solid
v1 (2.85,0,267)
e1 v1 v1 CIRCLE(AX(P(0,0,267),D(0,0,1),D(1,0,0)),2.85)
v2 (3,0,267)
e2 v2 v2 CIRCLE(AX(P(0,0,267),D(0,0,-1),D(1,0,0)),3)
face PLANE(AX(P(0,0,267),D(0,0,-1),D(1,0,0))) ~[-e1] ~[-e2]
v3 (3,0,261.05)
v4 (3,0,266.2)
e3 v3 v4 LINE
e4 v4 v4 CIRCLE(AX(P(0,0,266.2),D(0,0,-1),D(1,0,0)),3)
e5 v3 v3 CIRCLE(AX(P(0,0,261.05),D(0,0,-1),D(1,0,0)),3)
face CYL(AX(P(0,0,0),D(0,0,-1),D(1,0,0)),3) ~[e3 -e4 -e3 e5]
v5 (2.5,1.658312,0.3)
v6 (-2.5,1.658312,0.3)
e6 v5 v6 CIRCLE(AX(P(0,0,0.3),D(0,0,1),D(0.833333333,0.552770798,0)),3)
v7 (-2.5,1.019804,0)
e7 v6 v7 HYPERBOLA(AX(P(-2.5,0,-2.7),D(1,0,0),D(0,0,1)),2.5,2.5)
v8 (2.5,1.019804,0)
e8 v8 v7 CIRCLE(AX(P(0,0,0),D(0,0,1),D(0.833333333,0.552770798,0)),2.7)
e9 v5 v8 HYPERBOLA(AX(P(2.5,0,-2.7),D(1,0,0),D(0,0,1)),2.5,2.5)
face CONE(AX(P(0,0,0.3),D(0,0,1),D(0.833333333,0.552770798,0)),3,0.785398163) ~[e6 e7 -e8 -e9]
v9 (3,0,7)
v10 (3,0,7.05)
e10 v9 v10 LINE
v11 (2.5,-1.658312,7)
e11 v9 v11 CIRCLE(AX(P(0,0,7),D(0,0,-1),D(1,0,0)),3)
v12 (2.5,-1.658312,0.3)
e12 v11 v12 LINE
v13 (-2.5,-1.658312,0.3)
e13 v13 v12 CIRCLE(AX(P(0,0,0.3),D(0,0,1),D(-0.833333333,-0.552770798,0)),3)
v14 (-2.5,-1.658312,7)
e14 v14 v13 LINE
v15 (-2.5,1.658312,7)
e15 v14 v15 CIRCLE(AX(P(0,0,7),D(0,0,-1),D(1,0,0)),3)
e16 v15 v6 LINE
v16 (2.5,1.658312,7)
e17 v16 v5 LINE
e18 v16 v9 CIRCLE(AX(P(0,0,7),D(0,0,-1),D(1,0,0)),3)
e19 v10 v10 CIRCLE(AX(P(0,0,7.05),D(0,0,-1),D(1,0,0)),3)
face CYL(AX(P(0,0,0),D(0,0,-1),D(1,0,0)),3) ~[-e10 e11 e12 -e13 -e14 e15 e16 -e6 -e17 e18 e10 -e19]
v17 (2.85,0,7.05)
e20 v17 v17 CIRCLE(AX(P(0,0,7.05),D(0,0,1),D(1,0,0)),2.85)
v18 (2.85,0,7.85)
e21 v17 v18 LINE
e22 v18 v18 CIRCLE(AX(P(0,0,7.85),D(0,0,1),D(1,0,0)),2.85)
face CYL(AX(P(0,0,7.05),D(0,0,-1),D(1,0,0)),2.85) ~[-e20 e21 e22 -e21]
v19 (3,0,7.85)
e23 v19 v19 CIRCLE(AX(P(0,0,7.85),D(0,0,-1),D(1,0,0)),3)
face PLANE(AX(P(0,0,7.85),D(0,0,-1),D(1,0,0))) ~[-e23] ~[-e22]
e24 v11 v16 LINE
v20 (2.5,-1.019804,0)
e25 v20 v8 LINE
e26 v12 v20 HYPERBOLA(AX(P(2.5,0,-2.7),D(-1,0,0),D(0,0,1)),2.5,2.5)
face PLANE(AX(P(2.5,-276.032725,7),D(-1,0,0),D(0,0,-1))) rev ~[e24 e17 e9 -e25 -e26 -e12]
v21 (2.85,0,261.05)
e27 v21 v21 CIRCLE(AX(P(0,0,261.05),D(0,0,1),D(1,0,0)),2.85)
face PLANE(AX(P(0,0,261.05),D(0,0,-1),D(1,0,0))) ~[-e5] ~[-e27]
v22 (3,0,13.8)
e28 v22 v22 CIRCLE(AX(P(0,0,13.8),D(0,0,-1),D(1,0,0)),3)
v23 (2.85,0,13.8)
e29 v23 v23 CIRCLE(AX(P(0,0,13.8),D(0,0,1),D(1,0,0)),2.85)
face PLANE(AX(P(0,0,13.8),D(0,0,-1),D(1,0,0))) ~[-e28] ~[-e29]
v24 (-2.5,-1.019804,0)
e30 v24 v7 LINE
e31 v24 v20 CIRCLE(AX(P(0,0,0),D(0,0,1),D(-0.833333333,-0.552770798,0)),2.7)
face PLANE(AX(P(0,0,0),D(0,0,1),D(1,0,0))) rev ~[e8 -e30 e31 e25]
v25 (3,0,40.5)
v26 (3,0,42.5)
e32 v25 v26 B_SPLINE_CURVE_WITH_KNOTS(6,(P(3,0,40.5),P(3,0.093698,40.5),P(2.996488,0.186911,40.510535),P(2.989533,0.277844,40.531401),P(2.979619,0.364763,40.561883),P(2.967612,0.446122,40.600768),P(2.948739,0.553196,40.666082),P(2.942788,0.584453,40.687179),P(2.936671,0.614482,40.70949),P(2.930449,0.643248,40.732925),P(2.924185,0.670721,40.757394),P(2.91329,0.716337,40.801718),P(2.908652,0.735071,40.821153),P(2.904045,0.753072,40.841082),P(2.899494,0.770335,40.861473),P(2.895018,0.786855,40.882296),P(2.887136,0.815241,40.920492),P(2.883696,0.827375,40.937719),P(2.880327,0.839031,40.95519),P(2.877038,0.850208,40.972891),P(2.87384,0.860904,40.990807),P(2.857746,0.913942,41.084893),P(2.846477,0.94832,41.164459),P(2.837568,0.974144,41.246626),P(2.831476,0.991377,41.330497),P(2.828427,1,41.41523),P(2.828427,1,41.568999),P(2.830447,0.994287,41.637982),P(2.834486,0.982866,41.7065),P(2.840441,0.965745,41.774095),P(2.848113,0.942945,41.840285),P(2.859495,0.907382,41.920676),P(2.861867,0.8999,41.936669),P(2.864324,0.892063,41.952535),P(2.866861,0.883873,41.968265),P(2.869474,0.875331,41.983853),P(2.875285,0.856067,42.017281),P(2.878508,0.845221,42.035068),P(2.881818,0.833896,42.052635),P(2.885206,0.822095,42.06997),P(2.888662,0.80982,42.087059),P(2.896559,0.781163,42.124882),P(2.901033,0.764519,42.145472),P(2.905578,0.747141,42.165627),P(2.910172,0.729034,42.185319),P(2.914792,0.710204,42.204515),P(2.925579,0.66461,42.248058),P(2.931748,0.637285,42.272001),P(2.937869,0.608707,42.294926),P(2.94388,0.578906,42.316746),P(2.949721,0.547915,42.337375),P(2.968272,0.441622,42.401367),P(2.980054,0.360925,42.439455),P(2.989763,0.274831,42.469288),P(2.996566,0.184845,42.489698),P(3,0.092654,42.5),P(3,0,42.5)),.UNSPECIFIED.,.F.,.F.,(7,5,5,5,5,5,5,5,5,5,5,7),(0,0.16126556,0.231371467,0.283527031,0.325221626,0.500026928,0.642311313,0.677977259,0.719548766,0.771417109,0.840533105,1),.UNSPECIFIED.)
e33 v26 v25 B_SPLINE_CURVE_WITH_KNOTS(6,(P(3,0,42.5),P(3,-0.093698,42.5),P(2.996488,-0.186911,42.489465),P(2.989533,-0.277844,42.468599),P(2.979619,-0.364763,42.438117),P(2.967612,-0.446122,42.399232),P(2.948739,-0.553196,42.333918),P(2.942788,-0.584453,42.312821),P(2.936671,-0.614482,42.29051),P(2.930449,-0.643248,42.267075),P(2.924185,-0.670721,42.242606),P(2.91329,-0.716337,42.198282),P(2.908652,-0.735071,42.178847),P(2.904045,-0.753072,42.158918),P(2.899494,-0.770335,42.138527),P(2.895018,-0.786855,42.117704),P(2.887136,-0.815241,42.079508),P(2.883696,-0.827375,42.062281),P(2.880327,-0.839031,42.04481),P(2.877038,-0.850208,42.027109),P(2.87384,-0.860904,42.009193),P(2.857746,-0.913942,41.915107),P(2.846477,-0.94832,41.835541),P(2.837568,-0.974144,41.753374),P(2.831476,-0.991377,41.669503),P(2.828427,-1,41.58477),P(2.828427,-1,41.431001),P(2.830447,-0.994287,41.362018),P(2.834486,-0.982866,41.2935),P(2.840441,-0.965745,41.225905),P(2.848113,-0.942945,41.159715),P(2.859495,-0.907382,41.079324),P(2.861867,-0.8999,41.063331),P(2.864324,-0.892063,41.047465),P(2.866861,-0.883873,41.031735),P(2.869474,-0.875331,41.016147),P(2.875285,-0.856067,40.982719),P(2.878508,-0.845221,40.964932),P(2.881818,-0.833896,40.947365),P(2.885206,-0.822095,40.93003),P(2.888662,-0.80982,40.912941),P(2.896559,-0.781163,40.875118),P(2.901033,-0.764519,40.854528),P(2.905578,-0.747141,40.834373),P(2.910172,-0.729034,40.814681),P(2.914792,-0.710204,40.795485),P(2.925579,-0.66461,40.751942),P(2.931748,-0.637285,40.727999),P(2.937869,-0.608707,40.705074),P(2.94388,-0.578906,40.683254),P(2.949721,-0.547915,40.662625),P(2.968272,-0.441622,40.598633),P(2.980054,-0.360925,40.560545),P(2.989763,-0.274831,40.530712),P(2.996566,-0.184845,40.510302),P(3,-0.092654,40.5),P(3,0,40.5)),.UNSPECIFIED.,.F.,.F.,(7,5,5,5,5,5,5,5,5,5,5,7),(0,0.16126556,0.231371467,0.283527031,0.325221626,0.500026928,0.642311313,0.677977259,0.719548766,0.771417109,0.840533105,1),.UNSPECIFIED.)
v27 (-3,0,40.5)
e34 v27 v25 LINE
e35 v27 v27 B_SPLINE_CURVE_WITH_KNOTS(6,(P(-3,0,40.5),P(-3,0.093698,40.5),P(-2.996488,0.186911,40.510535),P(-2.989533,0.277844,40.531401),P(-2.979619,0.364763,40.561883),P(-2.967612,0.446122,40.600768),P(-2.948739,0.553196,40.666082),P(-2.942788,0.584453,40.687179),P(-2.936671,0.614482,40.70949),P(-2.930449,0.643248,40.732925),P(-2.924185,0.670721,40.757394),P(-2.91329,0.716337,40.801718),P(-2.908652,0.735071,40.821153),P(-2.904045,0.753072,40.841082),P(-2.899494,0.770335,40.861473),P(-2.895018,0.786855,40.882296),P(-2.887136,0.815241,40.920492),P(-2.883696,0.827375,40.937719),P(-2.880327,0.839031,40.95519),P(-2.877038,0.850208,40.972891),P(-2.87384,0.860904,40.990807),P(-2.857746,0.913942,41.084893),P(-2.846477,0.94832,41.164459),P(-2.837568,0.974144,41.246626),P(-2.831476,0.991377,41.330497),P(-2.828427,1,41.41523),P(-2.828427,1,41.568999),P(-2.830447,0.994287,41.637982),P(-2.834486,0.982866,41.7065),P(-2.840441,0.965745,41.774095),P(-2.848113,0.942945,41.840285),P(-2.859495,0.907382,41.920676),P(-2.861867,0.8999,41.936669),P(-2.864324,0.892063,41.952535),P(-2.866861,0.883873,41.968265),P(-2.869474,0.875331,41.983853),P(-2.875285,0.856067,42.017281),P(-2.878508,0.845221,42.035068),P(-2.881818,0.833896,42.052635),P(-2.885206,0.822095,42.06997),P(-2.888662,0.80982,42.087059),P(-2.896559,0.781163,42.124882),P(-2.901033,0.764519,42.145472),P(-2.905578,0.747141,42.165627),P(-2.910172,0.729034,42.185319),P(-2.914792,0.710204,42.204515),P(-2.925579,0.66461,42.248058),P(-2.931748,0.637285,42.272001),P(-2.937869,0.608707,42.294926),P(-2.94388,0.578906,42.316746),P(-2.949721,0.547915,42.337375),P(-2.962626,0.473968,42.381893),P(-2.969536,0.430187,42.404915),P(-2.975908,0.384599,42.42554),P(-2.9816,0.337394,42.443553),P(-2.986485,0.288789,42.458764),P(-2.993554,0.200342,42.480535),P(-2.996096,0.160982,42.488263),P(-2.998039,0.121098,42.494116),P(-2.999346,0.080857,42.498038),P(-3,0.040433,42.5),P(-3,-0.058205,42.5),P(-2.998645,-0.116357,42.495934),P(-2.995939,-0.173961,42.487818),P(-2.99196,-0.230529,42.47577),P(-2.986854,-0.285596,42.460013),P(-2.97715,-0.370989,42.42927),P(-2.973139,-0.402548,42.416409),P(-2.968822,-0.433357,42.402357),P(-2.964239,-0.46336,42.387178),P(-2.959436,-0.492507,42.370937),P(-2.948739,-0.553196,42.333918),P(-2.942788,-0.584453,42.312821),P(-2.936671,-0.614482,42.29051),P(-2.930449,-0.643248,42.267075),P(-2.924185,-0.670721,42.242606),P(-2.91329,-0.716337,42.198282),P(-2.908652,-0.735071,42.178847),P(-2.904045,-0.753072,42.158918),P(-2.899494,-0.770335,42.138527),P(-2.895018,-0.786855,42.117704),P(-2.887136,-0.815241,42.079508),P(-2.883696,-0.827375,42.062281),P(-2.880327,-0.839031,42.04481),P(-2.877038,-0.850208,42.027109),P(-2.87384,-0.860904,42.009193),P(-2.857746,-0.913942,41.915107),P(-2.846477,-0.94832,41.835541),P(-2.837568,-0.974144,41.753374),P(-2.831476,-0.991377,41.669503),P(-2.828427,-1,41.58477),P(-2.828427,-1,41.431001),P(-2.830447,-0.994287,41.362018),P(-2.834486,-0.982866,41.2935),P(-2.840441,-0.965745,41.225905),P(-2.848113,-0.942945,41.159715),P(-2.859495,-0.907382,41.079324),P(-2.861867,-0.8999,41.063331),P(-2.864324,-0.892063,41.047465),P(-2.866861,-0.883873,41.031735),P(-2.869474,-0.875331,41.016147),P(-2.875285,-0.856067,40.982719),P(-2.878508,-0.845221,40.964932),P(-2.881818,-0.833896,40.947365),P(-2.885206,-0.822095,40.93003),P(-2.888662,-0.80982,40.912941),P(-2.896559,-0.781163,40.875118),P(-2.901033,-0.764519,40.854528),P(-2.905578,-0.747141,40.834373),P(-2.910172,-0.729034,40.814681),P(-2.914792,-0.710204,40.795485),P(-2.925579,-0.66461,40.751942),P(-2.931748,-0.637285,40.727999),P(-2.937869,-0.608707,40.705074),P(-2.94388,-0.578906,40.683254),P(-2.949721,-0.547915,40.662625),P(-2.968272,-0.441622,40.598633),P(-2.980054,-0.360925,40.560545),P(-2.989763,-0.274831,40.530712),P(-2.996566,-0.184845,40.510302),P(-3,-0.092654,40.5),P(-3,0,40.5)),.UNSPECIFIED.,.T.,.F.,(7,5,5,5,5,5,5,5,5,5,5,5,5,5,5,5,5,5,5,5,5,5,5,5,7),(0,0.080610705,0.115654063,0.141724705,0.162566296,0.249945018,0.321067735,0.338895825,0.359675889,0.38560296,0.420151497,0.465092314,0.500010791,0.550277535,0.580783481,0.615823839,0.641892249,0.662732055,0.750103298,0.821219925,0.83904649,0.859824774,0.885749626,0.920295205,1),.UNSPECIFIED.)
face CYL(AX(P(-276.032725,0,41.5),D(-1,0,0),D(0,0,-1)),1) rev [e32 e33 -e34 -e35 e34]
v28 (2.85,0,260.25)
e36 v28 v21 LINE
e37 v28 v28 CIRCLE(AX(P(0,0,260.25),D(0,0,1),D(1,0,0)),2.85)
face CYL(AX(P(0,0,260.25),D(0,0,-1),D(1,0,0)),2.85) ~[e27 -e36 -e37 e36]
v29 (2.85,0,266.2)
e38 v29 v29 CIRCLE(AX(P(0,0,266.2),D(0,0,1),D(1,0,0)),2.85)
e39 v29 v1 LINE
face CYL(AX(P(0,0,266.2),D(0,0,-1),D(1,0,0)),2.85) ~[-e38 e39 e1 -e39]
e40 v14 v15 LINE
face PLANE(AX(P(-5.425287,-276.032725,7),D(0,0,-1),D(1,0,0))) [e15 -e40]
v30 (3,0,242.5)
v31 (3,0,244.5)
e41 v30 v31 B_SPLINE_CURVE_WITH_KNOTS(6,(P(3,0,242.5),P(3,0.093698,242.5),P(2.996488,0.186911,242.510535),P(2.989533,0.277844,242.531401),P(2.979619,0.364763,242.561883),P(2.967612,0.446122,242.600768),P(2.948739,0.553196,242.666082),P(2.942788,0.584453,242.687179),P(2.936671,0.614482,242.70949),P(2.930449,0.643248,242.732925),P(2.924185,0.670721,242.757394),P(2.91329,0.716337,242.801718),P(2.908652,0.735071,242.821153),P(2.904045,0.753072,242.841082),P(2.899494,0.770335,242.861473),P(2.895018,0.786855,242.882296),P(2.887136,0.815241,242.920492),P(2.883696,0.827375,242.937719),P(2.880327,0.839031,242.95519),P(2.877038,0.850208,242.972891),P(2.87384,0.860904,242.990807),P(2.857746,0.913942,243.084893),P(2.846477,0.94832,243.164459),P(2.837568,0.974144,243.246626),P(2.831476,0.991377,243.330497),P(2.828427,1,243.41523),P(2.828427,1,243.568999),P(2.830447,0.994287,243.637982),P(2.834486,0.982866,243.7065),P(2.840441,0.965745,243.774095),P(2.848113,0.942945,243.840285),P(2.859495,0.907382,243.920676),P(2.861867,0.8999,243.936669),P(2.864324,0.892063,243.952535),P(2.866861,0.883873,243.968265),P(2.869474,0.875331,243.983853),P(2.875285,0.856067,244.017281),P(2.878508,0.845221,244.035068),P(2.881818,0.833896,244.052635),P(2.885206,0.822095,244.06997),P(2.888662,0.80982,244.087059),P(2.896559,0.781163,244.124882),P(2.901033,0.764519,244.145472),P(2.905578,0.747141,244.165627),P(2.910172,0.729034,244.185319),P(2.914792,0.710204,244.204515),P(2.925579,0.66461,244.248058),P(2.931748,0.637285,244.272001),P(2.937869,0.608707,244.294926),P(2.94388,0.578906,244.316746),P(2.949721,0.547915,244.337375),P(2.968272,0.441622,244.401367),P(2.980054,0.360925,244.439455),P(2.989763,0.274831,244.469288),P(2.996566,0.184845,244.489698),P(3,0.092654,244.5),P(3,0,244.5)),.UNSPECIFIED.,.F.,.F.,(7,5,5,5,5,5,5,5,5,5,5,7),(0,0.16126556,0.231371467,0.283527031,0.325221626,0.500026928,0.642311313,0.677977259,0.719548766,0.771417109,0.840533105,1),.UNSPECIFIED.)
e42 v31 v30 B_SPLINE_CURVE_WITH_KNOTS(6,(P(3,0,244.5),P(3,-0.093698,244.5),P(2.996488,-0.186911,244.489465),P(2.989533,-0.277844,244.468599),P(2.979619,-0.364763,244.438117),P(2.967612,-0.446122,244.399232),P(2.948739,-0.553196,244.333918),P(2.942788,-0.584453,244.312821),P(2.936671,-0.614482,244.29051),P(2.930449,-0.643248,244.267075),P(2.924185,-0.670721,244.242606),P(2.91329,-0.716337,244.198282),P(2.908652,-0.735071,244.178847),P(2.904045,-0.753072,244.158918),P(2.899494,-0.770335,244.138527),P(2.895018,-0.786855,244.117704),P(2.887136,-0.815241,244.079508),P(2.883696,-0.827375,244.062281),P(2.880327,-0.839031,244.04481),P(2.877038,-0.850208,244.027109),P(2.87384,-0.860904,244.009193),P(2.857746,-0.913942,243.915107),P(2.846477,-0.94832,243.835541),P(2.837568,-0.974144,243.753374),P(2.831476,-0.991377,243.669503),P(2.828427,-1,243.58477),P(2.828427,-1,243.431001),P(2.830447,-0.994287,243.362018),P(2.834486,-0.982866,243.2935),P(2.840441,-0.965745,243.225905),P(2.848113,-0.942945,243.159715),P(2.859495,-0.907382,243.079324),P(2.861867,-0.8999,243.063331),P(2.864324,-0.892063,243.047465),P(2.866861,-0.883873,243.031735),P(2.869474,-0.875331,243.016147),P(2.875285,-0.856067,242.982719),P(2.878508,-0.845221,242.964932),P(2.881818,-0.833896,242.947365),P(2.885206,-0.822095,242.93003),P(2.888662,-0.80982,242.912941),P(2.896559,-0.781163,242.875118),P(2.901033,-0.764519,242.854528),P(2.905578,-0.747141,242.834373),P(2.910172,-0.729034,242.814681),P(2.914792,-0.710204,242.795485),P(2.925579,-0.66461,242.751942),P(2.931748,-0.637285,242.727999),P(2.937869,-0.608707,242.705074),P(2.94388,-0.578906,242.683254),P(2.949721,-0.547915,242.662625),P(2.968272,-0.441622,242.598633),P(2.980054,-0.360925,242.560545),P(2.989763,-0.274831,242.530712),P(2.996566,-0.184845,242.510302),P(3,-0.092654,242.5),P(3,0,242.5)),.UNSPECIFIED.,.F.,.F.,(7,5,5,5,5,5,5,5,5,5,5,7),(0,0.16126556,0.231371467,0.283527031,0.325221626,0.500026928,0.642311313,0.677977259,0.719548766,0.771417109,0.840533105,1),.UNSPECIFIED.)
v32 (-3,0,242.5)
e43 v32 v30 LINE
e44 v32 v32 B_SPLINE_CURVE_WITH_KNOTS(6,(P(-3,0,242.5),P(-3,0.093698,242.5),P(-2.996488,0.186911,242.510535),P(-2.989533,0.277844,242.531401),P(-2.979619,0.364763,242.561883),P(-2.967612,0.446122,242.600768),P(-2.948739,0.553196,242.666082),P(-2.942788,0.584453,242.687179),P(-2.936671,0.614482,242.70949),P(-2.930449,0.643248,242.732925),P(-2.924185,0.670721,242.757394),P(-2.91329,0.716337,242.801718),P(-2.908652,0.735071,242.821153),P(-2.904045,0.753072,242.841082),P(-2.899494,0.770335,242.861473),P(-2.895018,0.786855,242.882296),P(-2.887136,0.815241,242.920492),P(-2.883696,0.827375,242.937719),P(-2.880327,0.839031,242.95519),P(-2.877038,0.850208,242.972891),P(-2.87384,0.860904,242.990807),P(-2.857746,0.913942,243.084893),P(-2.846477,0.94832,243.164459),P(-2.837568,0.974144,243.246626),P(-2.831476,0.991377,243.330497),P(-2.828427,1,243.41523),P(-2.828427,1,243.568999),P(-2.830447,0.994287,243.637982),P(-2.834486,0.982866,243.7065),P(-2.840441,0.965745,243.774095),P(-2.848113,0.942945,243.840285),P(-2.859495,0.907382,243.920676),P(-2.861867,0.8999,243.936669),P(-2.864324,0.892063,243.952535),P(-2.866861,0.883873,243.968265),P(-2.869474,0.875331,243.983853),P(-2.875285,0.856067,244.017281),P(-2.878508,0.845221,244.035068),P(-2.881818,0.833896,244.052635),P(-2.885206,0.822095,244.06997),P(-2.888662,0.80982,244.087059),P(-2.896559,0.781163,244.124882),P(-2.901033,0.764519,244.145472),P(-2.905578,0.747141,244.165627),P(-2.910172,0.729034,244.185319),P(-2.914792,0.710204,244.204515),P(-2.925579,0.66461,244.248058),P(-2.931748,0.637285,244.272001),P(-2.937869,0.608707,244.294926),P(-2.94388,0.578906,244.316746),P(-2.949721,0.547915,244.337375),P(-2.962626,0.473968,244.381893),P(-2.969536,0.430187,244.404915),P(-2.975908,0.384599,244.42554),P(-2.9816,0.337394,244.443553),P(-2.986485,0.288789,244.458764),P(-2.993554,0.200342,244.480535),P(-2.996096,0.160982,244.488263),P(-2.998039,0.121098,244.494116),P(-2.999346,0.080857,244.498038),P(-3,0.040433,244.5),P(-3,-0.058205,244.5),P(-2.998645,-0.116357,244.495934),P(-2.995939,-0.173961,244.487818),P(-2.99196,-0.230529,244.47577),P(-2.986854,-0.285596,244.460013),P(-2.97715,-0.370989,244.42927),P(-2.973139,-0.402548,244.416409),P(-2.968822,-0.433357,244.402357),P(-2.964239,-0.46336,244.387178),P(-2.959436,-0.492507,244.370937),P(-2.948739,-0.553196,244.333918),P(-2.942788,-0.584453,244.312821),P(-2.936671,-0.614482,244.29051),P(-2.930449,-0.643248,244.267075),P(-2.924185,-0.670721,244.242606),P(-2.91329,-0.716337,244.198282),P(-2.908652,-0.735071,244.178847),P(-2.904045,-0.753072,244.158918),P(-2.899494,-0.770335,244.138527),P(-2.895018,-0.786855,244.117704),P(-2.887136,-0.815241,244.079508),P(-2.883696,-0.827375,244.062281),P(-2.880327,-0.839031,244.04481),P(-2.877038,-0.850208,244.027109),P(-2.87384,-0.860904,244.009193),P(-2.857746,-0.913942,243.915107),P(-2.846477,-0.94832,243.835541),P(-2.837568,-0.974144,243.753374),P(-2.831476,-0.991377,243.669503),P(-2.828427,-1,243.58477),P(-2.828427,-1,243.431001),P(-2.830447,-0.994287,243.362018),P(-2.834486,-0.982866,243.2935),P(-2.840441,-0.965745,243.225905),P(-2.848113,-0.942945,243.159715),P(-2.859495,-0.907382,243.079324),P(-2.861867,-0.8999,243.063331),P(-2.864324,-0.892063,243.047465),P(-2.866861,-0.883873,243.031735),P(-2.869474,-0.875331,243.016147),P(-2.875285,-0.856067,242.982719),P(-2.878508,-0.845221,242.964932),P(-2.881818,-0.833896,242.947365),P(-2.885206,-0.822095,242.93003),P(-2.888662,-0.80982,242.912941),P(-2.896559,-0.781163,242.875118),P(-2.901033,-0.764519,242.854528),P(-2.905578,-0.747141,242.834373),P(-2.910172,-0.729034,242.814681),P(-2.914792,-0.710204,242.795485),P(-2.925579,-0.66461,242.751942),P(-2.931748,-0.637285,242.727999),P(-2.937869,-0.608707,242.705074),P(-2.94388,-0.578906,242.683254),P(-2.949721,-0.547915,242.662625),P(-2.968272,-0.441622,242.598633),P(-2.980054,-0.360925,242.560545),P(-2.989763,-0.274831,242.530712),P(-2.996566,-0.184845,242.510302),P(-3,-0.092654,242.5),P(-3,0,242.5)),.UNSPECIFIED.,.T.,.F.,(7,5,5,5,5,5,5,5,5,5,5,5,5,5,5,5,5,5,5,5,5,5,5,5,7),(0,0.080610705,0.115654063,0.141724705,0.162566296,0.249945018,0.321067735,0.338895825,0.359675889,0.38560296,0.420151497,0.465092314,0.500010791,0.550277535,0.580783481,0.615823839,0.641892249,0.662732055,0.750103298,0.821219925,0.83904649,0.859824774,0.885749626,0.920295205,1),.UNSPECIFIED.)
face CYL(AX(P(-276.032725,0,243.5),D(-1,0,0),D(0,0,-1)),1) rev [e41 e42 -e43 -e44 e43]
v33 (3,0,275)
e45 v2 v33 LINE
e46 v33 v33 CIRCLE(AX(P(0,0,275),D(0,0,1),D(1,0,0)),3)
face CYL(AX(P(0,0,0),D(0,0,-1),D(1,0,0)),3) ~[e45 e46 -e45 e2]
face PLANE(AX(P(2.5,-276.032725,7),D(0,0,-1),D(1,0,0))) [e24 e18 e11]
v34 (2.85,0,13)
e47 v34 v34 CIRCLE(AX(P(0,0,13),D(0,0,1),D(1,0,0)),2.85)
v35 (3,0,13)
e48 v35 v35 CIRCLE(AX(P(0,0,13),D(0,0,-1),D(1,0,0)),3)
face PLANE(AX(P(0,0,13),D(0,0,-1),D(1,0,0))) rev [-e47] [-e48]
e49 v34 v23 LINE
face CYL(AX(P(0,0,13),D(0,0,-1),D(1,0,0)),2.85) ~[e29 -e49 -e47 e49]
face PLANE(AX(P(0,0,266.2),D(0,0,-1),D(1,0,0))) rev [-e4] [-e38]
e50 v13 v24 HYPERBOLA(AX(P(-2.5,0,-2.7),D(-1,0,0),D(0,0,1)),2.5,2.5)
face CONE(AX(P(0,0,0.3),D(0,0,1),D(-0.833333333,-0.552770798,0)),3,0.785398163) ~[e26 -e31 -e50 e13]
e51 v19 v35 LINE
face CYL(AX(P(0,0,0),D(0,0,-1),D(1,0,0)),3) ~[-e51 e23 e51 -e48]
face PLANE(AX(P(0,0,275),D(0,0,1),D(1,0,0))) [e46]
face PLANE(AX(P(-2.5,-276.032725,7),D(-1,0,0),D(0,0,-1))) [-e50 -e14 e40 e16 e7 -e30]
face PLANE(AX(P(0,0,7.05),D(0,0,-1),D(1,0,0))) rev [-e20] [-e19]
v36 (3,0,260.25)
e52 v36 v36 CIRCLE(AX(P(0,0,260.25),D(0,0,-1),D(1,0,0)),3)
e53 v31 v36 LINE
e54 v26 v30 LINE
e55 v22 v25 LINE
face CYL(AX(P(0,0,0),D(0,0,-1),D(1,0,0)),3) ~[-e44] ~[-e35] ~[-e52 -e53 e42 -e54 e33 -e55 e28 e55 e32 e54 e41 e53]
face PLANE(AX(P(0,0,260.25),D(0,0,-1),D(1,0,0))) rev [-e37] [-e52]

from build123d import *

# Parameters (mm, degrees)
SKETCH1_R                       = 3
BOSS_EXTRUDE1_DEPTH             = 275
SKETCH3_W                       = 0.8
SKETCH3_H                       = 0.5
CUT_EXTRUDE2_DEPTH              = 276.032725326
CUT_EXTRUDE2_DEPTH_BACK         = 276.032725326
SKETCH4_W                       = 3.470061058
SKETCH4_H                       = 7
SKETCH4_W_2                     = 2.92528695
CHAMFER1_SIZE                   = 0.3
RETAINING_GROOVES_D5P7_1_START  = 7.05
SKETCH5_R                       = 2.85
SKETCH5_R_2                     = 2.49
RETAINING_GROOVES_D5P7_1_DEPTH  = 0.8
RETAINING_GROOVES_D5P7_2_START  = 13
SKETCH6_R                       = 2.85
SKETCH6_R_2                     = 2.49
RETAINING_GROOVES_D5P7_2_DEPTH  = 0.8
RETAINING_GROOVES_D5P7_3_START  = 260.25
SKETCH7_R                       = 2.85
SKETCH7_R_2                     = 2.49
RETAINING_GROOVES_D5P7_3_DEPTH  = 0.8
RETAINING_GROOVES_D5P7_4_START  = 266.2
SKETCH8_R                       = 2.85
SKETCH8_R_2                     = 2.49
RETAINING_GROOVES_D5P7_4_DEPTH  = 0.8
TWO_HUB_CROSS_PIN_D2_DEPTH      = 276.032725326
TWO_HUB_CROSS_PIN_D2_DEPTH_BACK = 276.032725326
SKETCH9_R                       = 1


with BuildPart() as part:
    # Sketch1 → Boss-Extrude1 (new body)
    with BuildSketch(Plane.XY):
        Circle(SKETCH1_R)
    extrude(amount=BOSS_EXTRUDE1_DEPTH)

    # Sketch3 → Cut-Revolve1 (revolve, cut)
    with BuildSketch(Plane(origin=(0, 0, 0), x_dir=(0, 0, -1), z_dir=(1, 0, 0)), mode=Mode.PRIVATE) as cut_revolve1_sk:
        with Locations((-266.6, 2.75)):
            Rectangle(SKETCH3_W, SKETCH3_H)
        with Locations((-260.65, 2.75)):
            Rectangle(SKETCH3_W, SKETCH3_H)
        with Locations((-13.4, 2.75)):
            Rectangle(SKETCH3_W, SKETCH3_H)
        with Locations((-7.45, 2.75)):
            Rectangle(SKETCH3_W, SKETCH3_H)
    revolve(cut_revolve1_sk.sketch.rotate(Axis((0, 0, 263.365004794), (0, 0, -1)), 90), axis=Axis((0, 0, 263.365004794), (0, 0, -1)), mode=Mode.SUBTRACT)

    # Sketch4 → Cut-Extrude2 (cut, two sides: drawn at the far end of the back side and taken through both)
    with BuildSketch(Plane(origin=(0, 0, 0), x_dir=(1, 0, 0), z_dir=(0, 1, 0)).offset(-CUT_EXTRUDE2_DEPTH_BACK)):
        with Locations((4.235030529, -3.5)):
            Rectangle(SKETCH4_W, SKETCH4_H)
        with Locations((-3.962643475, -3.5)):
            Rectangle(SKETCH4_W_2, SKETCH4_H)
    extrude(amount=CUT_EXTRUDE2_DEPTH + CUT_EXTRUDE2_DEPTH_BACK, mode=Mode.SUBTRACT)

    # Chamfer1
    chamfer1_edges = [part.edges().sort_by_distance(p)[0] for p in [
        (0, 3, 0),
        (0, -3, 0),
    ]]
    chamfer(chamfer1_edges, length=CHAMFER1_SIZE)

    # Sketch5 → Retaining_Grooves_D5p7_1 (add)
    with BuildSketch(Plane.XY.offset(RETAINING_GROOVES_D5P7_1_START)):
        Circle(SKETCH5_R)
        Circle(SKETCH5_R_2, mode=Mode.SUBTRACT)
    extrude(amount=RETAINING_GROOVES_D5P7_1_DEPTH)

    # Sketch6 → Retaining_Grooves_D5p7_2 (add)
    with BuildSketch(Plane.XY.offset(RETAINING_GROOVES_D5P7_2_START)):
        Circle(SKETCH6_R)
        Circle(SKETCH6_R_2, mode=Mode.SUBTRACT)
    extrude(amount=RETAINING_GROOVES_D5P7_2_DEPTH)

    # Sketch7 → Retaining_Grooves_D5p7_3 (add)
    with BuildSketch(Plane.XY.offset(RETAINING_GROOVES_D5P7_3_START)):
        Circle(SKETCH7_R)
        Circle(SKETCH7_R_2, mode=Mode.SUBTRACT)
    extrude(amount=RETAINING_GROOVES_D5P7_3_DEPTH)

    # Sketch8 → Retaining_Grooves_D5p7_4 (add)
    with BuildSketch(Plane.XY.offset(RETAINING_GROOVES_D5P7_4_START)):
        Circle(SKETCH8_R)
        Circle(SKETCH8_R_2, mode=Mode.SUBTRACT)
    extrude(amount=RETAINING_GROOVES_D5P7_4_DEPTH)

    # Sketch9 → Two_Hub_Cross_Pin_D2 (cut, two sides: drawn at the far end of the back side and taken through both)
    with BuildSketch(Plane(origin=(0, 0, 0), x_dir=(0, 0, -1), z_dir=(1, 0, 0)).offset(-TWO_HUB_CROSS_PIN_D2_DEPTH_BACK)):
        with Locations((-41.5, 0)):
            Circle(SKETCH9_R)
        with Locations((-243.5, 0)):
            Circle(SKETCH9_R)
    extrude(amount=TWO_HUB_CROSS_PIN_D2_DEPTH + TWO_HUB_CROSS_PIN_D2_DEPTH_BACK, mode=Mode.SUBTRACT)


solid = part.part
